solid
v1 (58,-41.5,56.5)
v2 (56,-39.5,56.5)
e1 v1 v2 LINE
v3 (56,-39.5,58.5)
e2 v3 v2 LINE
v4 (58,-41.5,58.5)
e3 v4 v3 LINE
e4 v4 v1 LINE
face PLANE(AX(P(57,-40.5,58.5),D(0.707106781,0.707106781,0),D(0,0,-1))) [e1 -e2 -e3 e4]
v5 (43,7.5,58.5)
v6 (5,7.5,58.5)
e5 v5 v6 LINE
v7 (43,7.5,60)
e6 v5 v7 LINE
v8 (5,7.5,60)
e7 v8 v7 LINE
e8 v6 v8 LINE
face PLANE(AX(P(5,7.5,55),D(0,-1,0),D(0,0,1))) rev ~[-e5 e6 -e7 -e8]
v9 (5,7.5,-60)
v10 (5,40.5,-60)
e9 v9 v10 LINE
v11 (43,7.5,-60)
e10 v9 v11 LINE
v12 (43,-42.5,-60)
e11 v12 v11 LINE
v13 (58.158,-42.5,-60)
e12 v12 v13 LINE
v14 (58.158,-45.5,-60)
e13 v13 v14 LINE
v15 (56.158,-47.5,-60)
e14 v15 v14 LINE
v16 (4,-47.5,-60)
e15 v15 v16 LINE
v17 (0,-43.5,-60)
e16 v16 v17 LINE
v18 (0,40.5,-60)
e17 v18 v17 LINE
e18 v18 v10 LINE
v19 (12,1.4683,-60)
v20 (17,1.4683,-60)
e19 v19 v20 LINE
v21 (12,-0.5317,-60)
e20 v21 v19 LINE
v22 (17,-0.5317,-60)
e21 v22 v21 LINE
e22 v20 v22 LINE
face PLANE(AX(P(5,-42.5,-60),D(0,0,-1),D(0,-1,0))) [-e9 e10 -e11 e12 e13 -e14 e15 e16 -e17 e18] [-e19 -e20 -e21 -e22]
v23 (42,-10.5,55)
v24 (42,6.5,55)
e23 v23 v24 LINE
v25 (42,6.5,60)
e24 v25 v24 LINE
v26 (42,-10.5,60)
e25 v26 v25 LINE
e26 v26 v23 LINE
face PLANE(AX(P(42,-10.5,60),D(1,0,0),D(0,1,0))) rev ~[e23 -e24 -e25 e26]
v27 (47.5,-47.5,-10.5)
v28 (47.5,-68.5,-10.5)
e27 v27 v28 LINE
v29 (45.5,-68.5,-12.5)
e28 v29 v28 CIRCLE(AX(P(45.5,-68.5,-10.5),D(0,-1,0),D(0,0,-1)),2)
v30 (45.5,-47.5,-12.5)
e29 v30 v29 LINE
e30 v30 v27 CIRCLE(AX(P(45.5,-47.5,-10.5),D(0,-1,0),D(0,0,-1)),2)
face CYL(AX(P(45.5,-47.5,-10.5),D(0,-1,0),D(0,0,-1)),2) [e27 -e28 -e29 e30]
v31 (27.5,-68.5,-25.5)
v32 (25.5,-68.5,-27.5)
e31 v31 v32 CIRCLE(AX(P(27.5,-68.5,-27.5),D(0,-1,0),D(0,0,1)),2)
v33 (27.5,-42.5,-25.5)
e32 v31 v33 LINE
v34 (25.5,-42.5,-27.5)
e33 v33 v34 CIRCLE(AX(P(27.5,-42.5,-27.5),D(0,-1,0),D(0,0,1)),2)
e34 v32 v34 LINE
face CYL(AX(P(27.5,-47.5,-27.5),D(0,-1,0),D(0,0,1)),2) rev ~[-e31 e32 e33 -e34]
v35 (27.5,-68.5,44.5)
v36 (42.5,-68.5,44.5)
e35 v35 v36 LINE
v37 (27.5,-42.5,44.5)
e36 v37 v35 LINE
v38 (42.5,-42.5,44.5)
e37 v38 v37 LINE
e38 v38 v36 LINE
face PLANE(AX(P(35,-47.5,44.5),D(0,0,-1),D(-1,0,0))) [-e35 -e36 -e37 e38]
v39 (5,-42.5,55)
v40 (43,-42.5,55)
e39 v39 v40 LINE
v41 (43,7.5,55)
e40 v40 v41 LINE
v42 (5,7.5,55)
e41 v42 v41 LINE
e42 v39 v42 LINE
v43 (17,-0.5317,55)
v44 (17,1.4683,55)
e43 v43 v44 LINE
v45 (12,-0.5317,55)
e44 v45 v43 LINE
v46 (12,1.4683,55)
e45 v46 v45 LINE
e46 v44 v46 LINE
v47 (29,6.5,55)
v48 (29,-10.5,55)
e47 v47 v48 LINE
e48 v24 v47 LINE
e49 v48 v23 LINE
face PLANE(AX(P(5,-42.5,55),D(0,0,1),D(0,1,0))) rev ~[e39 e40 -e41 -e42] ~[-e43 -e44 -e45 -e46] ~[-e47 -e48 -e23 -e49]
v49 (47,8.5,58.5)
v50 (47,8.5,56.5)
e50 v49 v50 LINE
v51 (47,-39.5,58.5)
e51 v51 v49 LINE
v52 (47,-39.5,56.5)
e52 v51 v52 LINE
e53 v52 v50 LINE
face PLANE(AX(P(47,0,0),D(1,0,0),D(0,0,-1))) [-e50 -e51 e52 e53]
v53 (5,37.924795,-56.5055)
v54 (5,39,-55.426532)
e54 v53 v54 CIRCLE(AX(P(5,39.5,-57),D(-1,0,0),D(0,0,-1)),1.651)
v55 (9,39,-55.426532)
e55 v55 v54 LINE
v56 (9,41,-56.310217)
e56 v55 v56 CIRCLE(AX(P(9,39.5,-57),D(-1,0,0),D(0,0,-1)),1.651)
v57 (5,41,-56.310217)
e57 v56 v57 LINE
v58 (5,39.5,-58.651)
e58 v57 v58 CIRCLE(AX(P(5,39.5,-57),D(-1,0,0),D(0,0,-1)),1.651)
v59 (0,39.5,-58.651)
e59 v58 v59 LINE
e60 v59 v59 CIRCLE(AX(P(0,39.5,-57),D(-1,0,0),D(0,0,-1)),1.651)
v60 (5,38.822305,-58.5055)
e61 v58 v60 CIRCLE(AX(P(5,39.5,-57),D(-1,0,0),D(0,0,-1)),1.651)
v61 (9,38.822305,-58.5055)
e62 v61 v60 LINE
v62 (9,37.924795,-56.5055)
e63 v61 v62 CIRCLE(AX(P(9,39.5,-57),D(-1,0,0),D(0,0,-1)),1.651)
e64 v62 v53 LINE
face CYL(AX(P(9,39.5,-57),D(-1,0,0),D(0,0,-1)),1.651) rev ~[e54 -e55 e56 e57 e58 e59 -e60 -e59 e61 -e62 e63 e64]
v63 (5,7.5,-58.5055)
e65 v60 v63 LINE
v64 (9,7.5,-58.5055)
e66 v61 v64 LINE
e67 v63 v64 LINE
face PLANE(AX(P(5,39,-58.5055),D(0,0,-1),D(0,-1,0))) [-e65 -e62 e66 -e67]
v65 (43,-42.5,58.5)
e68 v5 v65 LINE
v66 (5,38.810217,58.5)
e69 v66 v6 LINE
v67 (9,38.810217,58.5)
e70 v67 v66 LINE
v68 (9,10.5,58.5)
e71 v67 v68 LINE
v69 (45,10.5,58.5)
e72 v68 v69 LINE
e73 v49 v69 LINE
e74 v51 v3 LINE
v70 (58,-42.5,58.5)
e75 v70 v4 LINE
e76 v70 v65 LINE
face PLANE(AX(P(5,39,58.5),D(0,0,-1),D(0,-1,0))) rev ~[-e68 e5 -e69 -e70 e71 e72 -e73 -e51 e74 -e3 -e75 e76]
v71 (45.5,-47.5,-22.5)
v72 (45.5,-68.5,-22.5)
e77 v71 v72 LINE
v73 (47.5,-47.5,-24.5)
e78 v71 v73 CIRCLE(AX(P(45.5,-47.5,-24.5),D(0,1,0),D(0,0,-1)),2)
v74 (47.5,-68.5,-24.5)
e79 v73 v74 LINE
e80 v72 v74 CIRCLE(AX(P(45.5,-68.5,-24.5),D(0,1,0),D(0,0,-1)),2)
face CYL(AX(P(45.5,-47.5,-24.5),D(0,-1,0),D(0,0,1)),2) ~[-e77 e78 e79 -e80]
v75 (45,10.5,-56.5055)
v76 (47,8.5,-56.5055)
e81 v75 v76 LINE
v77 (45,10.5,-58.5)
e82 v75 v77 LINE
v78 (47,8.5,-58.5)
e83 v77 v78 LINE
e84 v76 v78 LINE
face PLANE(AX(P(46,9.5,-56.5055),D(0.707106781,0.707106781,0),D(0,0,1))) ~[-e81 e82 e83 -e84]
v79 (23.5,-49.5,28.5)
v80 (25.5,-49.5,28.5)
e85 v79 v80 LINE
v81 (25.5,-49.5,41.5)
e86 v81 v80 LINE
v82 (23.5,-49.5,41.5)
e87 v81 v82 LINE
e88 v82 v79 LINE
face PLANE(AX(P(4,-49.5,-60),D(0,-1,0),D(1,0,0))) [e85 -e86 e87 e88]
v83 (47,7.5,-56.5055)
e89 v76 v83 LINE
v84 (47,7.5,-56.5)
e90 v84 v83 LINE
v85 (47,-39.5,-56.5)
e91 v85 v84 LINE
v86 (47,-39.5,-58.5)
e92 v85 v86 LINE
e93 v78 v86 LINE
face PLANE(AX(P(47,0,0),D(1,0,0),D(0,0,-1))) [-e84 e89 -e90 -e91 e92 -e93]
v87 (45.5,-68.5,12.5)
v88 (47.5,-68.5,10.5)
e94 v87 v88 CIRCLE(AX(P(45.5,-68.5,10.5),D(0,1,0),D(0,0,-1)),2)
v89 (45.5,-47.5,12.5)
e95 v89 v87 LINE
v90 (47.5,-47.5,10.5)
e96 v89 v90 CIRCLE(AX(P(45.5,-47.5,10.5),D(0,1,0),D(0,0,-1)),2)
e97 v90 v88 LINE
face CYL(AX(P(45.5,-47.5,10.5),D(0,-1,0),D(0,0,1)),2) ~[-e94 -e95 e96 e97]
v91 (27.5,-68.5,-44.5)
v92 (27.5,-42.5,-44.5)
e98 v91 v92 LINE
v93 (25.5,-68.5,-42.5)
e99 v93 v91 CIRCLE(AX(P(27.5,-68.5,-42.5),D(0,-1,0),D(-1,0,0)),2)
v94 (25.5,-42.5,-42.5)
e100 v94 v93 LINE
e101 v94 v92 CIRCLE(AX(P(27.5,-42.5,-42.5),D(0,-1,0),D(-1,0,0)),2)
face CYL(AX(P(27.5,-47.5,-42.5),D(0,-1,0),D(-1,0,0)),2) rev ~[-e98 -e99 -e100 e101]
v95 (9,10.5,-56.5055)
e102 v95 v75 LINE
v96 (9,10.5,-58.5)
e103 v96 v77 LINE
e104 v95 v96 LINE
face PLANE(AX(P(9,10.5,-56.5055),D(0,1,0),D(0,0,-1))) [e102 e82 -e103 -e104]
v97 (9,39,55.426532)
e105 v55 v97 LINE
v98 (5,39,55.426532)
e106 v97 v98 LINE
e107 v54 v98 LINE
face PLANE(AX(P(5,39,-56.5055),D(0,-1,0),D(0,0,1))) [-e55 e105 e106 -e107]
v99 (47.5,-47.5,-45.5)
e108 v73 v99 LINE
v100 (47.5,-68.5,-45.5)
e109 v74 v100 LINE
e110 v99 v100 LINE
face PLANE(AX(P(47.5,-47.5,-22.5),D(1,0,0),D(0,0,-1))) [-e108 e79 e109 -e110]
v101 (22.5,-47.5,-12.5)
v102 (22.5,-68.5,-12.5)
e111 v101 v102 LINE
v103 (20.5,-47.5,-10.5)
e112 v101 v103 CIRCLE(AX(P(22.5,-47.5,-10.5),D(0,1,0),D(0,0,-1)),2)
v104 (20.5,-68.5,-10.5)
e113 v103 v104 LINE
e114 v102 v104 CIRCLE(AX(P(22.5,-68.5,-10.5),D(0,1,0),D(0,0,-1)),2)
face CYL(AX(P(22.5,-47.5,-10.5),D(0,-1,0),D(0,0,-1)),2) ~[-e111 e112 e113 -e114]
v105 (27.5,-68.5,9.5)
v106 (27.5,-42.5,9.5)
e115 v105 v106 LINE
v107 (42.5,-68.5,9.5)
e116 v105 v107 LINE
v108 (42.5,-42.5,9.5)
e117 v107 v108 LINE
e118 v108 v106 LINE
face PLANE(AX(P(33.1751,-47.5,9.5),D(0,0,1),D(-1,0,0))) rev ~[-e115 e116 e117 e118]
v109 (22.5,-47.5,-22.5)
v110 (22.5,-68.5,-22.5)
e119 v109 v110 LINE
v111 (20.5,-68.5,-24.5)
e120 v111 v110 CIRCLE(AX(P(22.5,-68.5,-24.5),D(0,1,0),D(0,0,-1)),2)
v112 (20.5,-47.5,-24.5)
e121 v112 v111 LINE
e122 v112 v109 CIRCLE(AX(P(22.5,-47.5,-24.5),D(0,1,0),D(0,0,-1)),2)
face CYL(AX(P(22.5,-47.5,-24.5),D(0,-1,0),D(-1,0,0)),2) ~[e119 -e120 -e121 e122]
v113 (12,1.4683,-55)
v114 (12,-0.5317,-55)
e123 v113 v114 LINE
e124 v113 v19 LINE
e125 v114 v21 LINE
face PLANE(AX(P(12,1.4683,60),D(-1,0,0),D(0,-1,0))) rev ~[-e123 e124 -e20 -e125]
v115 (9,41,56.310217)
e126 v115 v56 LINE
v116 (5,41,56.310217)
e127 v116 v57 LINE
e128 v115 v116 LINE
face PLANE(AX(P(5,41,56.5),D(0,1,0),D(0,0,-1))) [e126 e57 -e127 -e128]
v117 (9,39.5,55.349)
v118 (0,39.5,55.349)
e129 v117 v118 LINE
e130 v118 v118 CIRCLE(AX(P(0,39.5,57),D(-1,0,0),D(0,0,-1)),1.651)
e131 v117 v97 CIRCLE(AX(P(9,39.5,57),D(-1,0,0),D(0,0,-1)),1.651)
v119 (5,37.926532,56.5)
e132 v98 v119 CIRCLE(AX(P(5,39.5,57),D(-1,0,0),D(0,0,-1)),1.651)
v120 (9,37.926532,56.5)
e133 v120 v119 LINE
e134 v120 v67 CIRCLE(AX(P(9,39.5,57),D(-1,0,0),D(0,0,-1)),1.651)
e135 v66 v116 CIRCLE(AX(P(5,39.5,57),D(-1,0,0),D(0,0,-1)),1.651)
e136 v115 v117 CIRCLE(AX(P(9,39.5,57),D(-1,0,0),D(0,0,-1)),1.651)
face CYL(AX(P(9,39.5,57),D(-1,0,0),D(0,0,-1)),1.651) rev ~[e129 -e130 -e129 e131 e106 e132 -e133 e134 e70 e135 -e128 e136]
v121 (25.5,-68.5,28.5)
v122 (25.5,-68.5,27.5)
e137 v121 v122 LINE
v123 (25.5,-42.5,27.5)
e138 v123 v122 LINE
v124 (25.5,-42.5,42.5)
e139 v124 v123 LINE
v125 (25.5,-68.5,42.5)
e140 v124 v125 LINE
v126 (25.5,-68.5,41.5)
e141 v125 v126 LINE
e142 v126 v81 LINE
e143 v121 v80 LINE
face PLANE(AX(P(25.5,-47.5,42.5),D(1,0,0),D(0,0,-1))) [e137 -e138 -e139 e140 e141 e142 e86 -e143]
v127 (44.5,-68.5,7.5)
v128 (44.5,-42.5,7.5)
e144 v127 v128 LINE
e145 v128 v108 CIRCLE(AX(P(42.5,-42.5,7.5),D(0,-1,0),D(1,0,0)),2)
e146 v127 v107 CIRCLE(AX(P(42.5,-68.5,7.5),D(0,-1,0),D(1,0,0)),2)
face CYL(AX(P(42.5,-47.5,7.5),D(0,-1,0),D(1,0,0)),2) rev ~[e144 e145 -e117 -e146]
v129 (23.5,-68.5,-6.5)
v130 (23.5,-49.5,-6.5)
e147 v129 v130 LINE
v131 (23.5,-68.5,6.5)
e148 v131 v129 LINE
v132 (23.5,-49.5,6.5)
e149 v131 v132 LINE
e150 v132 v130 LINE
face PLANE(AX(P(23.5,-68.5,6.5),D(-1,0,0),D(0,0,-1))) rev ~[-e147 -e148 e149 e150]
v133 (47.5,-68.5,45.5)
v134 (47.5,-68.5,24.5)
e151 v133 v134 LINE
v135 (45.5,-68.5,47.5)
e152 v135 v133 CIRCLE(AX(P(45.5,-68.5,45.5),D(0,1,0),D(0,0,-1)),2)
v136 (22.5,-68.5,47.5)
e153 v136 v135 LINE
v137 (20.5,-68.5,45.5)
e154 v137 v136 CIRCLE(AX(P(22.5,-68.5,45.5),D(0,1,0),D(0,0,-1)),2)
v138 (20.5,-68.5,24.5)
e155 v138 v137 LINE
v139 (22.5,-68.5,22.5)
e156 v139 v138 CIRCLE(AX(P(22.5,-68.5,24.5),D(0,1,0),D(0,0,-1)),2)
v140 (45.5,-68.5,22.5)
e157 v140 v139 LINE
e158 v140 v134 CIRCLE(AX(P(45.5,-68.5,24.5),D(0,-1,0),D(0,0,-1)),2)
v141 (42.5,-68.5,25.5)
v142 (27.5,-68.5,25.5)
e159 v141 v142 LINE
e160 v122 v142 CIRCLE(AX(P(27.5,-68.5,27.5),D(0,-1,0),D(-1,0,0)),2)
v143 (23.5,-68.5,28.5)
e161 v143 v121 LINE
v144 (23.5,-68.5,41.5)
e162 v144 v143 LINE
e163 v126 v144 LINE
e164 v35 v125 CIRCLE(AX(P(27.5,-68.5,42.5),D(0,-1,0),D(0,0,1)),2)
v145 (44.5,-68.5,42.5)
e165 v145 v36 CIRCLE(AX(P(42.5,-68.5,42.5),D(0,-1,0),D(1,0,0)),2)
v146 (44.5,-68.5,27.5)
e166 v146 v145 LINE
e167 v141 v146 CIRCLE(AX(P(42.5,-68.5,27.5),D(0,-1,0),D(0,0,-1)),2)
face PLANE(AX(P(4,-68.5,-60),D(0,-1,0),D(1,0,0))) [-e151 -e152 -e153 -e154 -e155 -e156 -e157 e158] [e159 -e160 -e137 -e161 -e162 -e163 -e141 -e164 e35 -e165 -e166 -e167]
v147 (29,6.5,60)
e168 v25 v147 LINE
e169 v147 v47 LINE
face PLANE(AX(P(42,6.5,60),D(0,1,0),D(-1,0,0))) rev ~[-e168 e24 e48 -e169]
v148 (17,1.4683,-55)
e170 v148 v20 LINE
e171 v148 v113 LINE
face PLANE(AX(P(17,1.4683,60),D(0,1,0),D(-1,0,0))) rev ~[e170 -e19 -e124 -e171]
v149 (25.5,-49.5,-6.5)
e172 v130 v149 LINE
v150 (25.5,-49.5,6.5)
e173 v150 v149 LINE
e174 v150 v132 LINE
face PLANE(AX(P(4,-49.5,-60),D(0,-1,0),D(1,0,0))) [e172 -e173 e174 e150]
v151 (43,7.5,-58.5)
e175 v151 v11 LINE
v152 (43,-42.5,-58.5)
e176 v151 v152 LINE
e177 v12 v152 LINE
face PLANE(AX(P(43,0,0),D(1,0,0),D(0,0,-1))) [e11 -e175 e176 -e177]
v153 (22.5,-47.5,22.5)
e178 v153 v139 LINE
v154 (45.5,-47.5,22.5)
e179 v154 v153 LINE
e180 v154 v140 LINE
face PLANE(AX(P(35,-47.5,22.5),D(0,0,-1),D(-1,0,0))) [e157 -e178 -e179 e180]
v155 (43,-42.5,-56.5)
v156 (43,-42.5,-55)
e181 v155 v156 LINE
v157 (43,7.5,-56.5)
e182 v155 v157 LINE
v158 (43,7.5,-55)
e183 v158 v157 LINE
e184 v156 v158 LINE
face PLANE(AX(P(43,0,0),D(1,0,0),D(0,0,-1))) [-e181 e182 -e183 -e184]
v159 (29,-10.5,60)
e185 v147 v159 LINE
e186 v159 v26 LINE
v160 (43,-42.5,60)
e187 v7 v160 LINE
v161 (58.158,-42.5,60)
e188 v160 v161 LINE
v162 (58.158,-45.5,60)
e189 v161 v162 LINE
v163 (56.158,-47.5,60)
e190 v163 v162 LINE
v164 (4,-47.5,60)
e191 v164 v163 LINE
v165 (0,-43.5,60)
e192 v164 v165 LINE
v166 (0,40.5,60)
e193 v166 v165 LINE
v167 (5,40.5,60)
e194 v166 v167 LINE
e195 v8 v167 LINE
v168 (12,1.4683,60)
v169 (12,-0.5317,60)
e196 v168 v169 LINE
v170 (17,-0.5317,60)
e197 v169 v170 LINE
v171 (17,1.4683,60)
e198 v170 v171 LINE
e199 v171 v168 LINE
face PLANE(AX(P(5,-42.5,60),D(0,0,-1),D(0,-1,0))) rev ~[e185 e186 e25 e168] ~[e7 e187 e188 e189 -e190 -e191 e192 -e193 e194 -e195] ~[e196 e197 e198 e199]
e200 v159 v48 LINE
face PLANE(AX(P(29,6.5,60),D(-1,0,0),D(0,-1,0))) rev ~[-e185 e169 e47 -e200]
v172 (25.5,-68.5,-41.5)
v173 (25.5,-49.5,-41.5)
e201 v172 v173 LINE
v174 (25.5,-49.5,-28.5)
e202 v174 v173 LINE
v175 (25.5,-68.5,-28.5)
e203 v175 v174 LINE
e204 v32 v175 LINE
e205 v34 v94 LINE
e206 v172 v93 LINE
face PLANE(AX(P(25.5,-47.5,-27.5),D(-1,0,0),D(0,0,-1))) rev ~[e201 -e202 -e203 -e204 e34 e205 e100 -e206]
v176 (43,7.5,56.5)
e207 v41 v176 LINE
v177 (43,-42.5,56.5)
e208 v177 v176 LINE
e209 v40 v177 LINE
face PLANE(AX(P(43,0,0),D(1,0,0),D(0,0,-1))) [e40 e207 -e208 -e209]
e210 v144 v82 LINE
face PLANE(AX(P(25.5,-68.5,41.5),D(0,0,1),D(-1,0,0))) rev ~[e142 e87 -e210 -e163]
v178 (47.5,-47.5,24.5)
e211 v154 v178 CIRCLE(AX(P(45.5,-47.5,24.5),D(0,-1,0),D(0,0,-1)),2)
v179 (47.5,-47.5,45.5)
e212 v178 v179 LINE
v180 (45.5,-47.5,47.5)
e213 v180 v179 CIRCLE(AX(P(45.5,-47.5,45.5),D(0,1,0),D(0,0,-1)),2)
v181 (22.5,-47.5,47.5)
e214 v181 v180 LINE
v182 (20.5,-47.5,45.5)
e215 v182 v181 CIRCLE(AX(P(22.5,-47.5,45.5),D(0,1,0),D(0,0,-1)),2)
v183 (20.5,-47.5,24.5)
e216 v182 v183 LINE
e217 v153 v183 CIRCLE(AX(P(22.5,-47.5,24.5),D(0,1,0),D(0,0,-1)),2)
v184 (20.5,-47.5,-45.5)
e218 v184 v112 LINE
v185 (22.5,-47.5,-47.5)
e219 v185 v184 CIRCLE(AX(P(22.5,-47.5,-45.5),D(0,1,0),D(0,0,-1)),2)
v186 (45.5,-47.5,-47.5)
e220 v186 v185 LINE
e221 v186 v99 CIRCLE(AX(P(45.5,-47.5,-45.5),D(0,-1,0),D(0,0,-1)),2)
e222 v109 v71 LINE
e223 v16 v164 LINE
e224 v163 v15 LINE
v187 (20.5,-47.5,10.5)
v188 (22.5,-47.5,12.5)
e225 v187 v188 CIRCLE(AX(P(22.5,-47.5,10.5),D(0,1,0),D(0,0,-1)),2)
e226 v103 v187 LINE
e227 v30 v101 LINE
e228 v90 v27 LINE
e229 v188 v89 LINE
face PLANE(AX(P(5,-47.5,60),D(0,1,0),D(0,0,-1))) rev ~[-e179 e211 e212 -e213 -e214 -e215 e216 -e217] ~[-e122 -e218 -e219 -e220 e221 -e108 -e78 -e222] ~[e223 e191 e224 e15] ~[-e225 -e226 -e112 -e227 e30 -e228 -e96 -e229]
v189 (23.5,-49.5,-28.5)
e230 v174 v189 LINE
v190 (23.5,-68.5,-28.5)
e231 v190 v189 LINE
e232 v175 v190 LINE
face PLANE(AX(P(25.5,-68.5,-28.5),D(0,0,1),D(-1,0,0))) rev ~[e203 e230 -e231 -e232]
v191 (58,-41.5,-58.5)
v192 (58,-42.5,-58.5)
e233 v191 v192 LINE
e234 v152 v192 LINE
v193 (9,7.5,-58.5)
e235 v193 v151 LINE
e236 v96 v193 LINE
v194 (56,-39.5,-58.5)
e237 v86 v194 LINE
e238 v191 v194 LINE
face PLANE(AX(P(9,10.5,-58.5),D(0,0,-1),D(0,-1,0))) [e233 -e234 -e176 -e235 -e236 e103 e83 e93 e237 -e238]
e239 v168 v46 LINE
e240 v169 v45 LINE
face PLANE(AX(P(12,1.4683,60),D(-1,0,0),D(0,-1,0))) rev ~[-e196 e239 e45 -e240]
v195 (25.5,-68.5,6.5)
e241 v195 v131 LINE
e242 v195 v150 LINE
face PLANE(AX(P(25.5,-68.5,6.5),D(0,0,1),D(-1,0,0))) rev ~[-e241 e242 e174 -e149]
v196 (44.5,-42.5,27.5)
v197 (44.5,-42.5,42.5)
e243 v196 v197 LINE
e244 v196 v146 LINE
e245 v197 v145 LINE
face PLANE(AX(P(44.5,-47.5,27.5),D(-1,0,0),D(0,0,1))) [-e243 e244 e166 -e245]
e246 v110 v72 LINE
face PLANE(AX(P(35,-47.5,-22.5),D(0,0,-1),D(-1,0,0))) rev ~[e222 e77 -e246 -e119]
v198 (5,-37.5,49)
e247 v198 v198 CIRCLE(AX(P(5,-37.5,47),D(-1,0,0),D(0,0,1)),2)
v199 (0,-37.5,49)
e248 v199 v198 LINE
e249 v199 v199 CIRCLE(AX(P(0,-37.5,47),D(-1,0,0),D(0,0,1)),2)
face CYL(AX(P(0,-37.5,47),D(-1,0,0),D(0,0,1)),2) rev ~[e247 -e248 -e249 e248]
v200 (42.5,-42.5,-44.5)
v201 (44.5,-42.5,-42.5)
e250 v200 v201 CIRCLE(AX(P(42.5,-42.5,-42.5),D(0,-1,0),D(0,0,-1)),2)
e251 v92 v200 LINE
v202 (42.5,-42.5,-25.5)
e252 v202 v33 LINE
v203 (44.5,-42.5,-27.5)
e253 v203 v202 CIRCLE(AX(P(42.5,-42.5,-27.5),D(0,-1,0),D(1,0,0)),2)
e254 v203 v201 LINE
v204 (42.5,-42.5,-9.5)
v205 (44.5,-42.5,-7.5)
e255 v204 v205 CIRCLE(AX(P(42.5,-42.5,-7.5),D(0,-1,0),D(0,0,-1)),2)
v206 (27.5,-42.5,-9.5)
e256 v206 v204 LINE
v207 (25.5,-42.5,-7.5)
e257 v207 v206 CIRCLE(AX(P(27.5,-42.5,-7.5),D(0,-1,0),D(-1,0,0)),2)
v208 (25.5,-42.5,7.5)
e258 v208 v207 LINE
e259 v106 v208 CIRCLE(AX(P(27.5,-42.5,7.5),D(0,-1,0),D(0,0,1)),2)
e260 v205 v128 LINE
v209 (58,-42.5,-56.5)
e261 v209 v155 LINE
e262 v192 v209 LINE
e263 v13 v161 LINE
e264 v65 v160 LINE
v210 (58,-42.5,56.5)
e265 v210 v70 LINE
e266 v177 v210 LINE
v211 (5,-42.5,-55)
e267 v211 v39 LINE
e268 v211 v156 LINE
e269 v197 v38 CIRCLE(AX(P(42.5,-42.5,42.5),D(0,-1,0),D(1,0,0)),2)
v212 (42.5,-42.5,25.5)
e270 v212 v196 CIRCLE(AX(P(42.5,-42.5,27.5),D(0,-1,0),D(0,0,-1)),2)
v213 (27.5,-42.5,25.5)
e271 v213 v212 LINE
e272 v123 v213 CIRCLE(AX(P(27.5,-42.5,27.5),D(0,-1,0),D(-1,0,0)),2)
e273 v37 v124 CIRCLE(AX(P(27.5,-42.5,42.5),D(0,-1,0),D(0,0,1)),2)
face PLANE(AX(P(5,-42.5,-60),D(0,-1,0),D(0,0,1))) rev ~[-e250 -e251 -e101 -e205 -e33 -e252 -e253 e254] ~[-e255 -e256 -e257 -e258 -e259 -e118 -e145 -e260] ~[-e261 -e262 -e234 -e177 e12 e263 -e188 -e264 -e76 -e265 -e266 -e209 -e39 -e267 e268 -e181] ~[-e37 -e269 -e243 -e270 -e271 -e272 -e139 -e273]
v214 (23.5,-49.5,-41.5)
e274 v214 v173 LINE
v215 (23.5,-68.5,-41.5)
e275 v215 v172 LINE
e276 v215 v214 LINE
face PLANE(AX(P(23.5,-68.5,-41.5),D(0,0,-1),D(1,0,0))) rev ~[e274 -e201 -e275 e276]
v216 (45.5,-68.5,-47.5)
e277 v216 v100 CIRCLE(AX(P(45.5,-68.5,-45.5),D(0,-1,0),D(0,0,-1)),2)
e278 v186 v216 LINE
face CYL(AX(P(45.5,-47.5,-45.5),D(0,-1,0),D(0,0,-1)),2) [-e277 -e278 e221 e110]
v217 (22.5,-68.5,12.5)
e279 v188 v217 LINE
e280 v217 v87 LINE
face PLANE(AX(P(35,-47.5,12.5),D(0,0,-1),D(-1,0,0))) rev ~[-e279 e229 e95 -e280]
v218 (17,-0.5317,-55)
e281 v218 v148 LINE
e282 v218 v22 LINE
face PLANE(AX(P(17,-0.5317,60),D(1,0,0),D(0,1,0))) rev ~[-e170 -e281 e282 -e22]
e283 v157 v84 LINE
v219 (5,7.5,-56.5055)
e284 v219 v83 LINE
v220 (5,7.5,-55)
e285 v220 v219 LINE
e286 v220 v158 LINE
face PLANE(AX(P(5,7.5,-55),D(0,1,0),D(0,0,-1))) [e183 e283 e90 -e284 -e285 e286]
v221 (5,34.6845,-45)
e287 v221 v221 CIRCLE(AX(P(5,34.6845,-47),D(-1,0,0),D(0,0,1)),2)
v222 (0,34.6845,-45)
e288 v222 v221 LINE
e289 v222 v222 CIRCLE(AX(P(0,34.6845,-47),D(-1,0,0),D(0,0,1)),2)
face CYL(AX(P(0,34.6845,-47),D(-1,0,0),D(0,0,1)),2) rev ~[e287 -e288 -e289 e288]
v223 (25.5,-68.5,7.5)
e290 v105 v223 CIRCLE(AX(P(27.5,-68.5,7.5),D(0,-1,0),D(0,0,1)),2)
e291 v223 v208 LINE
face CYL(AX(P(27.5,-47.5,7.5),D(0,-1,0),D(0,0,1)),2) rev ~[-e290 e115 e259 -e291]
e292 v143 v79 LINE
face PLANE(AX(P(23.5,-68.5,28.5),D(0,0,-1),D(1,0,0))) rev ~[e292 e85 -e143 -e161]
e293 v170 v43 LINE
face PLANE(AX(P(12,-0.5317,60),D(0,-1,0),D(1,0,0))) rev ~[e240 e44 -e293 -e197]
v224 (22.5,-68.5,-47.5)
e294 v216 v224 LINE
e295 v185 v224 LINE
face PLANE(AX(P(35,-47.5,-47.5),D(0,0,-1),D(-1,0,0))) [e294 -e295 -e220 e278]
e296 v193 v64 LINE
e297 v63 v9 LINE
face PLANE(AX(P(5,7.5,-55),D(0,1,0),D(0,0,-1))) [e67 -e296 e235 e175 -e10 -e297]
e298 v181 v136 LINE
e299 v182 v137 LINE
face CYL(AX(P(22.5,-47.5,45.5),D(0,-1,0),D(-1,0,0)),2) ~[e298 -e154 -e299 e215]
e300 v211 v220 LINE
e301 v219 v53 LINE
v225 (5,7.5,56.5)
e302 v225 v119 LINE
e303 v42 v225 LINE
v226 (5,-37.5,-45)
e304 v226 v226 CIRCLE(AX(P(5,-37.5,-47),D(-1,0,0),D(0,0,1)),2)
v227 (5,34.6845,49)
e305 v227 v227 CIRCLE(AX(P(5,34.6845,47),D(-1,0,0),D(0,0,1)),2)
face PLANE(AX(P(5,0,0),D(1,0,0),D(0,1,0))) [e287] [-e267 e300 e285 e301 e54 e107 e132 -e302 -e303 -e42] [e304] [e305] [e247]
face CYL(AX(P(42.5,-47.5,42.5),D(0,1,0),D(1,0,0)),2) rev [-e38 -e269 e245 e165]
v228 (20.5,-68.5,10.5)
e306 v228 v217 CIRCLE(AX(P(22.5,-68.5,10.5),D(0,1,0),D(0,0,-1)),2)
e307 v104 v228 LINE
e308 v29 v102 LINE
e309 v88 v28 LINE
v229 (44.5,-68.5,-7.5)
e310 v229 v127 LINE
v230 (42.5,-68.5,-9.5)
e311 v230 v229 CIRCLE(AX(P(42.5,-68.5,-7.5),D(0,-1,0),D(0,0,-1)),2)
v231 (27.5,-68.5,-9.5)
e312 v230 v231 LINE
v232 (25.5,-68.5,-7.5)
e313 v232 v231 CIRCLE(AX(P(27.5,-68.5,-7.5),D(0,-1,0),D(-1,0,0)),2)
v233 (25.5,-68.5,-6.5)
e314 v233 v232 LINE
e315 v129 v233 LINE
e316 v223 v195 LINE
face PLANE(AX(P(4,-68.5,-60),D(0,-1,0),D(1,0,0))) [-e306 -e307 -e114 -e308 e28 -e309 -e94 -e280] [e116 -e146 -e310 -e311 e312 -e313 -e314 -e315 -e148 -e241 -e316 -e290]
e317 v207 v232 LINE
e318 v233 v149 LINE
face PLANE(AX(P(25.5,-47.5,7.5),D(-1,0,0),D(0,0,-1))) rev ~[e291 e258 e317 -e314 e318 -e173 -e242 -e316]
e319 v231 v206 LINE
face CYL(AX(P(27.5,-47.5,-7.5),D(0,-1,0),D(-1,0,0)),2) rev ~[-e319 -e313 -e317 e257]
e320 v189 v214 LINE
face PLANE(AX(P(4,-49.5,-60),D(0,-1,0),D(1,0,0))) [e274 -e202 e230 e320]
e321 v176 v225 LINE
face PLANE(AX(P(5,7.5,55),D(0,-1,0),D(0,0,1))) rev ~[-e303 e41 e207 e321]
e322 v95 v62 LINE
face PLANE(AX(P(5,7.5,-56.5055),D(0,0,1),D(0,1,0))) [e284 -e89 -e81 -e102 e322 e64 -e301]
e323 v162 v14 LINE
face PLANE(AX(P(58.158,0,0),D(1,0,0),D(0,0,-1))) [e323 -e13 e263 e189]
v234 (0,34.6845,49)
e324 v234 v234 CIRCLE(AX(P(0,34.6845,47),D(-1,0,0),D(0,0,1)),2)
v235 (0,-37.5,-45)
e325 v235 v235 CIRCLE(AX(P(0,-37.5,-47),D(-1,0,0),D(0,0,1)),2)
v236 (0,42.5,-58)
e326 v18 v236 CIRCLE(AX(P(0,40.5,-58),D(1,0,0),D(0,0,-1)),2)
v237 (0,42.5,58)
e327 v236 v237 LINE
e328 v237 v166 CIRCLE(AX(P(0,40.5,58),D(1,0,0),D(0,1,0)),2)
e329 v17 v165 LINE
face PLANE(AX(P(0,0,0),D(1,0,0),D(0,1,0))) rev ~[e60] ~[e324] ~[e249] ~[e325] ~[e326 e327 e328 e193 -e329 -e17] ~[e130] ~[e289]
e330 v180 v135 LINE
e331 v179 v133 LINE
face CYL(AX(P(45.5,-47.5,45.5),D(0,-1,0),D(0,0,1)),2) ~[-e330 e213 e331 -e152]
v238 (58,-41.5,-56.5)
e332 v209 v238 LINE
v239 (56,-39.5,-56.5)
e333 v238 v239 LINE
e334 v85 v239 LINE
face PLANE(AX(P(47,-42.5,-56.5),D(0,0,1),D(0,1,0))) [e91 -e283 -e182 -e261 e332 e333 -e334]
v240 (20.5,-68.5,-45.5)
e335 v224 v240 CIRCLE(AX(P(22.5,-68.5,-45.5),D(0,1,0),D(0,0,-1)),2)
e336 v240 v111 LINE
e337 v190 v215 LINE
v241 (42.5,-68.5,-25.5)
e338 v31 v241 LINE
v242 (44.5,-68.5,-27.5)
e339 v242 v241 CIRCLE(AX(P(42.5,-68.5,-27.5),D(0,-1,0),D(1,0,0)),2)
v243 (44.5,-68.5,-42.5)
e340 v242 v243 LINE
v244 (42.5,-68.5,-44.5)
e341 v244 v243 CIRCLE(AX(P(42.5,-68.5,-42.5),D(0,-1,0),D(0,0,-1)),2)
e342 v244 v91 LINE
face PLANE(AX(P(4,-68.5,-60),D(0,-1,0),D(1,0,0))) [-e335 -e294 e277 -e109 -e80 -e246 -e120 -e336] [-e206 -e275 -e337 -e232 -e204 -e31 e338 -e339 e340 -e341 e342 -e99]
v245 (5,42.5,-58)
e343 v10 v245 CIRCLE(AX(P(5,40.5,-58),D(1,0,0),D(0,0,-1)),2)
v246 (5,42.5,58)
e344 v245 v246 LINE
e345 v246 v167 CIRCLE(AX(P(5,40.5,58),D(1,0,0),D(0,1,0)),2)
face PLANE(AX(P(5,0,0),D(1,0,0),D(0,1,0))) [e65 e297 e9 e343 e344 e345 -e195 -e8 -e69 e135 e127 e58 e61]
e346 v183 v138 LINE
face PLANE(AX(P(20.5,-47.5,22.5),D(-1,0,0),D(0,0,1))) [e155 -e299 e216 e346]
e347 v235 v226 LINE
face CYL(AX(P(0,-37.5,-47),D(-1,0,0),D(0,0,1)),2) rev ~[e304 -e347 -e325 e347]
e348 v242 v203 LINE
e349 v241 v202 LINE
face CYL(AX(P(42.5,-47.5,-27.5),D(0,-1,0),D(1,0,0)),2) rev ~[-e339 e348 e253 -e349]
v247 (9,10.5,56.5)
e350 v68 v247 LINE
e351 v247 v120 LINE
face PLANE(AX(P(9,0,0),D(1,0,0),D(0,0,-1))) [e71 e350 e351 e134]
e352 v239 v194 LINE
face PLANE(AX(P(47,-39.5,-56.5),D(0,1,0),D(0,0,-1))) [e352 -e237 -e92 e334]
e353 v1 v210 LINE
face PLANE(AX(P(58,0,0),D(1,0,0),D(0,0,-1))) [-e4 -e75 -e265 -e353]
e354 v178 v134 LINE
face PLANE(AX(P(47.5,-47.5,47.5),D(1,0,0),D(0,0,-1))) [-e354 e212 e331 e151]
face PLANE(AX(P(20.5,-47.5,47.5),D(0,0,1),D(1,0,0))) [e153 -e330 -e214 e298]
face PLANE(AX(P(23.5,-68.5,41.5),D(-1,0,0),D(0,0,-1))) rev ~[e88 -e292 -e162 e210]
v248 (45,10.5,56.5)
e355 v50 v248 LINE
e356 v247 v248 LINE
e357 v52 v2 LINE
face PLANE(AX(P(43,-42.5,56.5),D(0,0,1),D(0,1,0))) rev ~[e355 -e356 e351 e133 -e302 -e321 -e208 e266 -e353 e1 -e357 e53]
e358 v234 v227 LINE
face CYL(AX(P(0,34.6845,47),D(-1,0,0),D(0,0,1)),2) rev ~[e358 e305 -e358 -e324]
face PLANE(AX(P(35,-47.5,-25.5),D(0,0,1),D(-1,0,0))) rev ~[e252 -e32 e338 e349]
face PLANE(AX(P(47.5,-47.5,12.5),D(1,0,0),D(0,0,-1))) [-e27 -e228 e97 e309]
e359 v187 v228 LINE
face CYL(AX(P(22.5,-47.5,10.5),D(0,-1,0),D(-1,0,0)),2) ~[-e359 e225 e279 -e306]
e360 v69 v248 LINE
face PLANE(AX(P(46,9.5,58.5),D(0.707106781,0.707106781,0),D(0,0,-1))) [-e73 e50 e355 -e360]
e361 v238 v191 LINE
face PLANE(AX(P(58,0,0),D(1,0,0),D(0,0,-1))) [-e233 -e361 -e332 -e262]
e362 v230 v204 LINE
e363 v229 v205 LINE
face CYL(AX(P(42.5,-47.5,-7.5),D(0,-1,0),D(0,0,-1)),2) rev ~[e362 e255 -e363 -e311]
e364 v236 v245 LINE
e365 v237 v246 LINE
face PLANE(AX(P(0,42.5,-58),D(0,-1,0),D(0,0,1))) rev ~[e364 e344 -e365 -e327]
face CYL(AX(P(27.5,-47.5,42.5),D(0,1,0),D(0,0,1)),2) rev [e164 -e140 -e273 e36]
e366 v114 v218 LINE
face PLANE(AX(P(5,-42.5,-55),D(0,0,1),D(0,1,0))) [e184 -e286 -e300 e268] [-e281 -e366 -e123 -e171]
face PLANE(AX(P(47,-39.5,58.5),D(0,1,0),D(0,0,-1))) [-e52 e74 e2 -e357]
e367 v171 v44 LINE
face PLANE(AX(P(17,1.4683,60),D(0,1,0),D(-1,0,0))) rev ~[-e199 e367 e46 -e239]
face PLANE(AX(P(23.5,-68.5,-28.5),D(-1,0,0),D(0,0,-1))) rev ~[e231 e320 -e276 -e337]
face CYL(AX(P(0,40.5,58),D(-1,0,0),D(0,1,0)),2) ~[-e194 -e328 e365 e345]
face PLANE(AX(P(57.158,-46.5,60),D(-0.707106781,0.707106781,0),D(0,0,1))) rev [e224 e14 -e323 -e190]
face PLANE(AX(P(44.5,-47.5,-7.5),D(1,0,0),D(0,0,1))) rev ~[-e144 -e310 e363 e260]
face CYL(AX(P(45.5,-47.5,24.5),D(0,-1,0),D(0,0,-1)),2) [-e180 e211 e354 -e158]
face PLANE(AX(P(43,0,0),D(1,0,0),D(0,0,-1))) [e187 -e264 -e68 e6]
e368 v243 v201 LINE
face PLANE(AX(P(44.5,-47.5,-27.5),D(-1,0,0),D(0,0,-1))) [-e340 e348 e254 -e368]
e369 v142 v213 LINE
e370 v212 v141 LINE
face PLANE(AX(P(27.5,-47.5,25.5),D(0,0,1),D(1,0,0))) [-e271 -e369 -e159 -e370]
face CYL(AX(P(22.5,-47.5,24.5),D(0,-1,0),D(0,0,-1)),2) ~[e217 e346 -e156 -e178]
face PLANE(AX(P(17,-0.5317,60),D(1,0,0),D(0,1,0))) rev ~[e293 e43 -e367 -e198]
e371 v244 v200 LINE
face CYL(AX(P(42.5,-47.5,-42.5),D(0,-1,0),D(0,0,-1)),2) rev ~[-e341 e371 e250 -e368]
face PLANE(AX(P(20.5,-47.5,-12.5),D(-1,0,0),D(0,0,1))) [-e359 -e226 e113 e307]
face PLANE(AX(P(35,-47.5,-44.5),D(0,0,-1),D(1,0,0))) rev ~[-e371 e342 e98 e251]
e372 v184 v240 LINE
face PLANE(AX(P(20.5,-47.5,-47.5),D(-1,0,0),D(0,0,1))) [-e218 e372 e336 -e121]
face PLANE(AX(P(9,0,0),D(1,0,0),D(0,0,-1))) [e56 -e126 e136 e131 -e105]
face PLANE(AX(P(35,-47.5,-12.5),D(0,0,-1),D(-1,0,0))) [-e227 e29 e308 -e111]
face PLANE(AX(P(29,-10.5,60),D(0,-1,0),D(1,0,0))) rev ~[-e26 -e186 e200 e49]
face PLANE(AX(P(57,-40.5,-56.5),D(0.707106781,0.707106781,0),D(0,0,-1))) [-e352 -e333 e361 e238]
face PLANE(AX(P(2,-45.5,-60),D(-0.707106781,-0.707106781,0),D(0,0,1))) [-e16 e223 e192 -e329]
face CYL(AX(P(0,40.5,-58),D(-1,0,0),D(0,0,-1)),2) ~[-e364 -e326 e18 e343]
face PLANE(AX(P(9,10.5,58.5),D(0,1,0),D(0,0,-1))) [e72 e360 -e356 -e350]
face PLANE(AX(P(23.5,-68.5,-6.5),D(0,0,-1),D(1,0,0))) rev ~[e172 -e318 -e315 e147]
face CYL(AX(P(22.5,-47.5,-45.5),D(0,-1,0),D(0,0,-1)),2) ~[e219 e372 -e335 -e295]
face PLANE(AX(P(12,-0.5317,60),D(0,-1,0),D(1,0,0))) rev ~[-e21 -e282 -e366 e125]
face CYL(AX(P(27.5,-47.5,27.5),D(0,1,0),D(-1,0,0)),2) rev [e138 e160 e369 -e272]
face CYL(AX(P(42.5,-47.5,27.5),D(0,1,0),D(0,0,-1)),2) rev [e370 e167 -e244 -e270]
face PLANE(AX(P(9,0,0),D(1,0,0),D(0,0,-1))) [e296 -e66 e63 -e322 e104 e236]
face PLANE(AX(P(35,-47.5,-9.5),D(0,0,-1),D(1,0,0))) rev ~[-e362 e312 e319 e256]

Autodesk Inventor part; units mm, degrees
ref_plane "YZ Plane" through (0, 0, 0) normal (1, 0, 0) x (0, 1, 0)
ref_plane "XZ Plane" through (0, 0, 0) normal (0, 1, 0) x (-1, 0, 0)
ref_plane "XY Plane" through (0, 0, 0) normal (0, 0, 1) x (1, 0, 0)
sketch "Esboço1" plane through (0, 0, 0) normal (1, 0, 0) x (0, 1, 0)
  line L0 (40.5, 60) -> (-42.5, 60)
  line L1 (-42.5, 60) -> (-42.5, -60)
  line L2 (-42.5, -60) -> (40.5, -60)
  line L3 (42.5, -58) -> (42.5, 58)
  line L4 (-42.5, 60) -> (42.5, -60) construction
  arc A0 (42.5, 58) -> (40.5, 60) centre (40.5, 58) ccw
  arc A1 (40.5, -60) -> (42.5, -58) centre (40.5, -58) ccw
  point P0 (0, 0)
  dimension "d0" = 85
  dimension "d1" = 120
  dimension "d4" = 2
extrude "Extrusão1" add sketch "Esboço1" along normal blind 5
sketch "Esboço4" plane through (5, 0, 0) normal (1, 0, 0) x (0, 0, -1)
  line L0 (-60, -42.5) -> (60, -42.5) projected
  line L1 (-60, -42.5) -> (60, -42.5)
  line L2 (60, -42.5) -> (60, -47.5)
  line L3 (60, -47.5) -> (-60, -47.5)
  line L4 (-60, -47.5) -> (-60, -42.5)
  point P0 (0, 0)
  point P1 (60, -42.5)
  dimension "d33" = 5
extrude "Extrusão3" add sketch "Esboço4" against normal blind 5
sketch "Esboço5" plane through (5, 0, 0) normal (1, 0, 0) x (0, 0, -1)
  line L0 (-60, 40.5) -> (-60, -47.5) projected
  line L1 (60, 40.5) -> (60, -47.5) projected
  line L2 (-60, -47.5) -> (60, -47.5)
  line L3 (60, -47.5) -> (60, -42.5)
  line L4 (60, -42.5) -> (-60, -42.5)
  line L5 (-60, -42.5) -> (-60, -47.5)
  point P0 (0, 0)
  point P1 (60, -47.5)
  dimension "d36" = 5
extrude "Extrusão4" add sketch "Esboço5" along normal blind 53.158
chamfer "Chanfro2" distance 4 angle 45 1 edges at (0, -47.5, 0)
chamfer "Chanfro3" distance 2 angle 45 1 edges at (58.158, -47.5, 0)
sketch "Esboço9" plane through (4, -47.5, -60) normal (0, -1, 0) x (1, 0, 0)
  line L0 (40.5, 87.5) -> (40.5, 102.5) projected
  line L1 (23.5, 85.5) -> (38.5, 85.5) projected
  line L2 (38.5, 104.5) -> (23.5, 104.5) projected
  line L3 (21.5, 102.5) -> (21.5, 87.5) projected
  line L4 (23.5, 15.5) -> (38.5, 15.5) projected
  line L5 (43.5, 12.5) -> (31, 12.5)
  line L6 (31, 12.5) -> (16.5, 12.5)
  line L7 (16.5, 95) -> (16.5, 107.5)
  line L8 (16.5, 107.5) -> (43.5, 107.5)
  line L9 (43.5, 107.5) -> (43.5, 95)
  line L10 (38.5, 34.5) -> (23.5, 34.5) projected
  line L11 (31, 34.5) -> (31, 37.5)
  line L12 (23.5, 50.5) -> (38.5, 50.5) projected
  line L13 (31, 50.5) -> (31, 47.5)
  line L14 (38.5, 69.5) -> (23.5, 69.5) projected
  line L15 (31, 69.5) -> (31, 72.5)
  line L16 (31, 85.5) -> (31, 82.5)
  line L17 (43.5, 82.5) -> (16.5, 82.5)
  line L18 (43.5, 72.5) -> (16.5, 72.5)
  line L19 (43.5, 47.5) -> (16.5, 47.5)
  line L20 (43.5, 37.5) -> (16.5, 37.5)
  line L21 (43.5, 95) -> (43.5, 82.5)
  line L22 (16.5, 82.5) -> (16.5, 95)
  line L23 (16.5, 12.5) -> (16.5, 37.5)
  line L24 (16.5, 47.5) -> (16.5, 72.5)
  line L25 (43.5, 72.5) -> (43.5, 47.5)
  line L26 (43.5, 37.5) -> (43.5, 12.5)
  line L27 (31, 104.5) -> (31, 107.5)
  line L28 (31, 15.5) -> (31, 12.5)
  arc A0 (23.5, 104.5) -> (21.5, 102.5) centre (23.5, 102.5) ccw projected
  arc A1 (23.5, 104.5) -> (21.5, 102.5) centre (23.5, 102.5) ccw
  arc A2 (40.5, 102.5) -> (38.5, 104.5) centre (38.5, 102.5) ccw
  arc A3 (38.5, 85.5) -> (40.5, 87.5) centre (38.5, 87.5) ccw projected
  arc A4 (38.5, 85.5) -> (40.5, 87.5) centre (38.5, 87.5) ccw
  arc A5 (21.5, 87.5) -> (23.5, 85.5) centre (23.5, 87.5) ccw projected
  arc A6 (21.5, 87.5) -> (23.5, 85.5) centre (23.5, 87.5) ccw
  line L29 (21.5, 102.5) -> (21.5, 87.5)
  line L30 (23.5, 104.5) -> (31, 104.5)
  line L31 (31, 104.5) -> (38.5, 104.5)
  arc A7 (40.5, 102.5) -> (38.5, 104.5) centre (38.5, 102.5) ccw projected
  line L32 (40.5, 102.5) -> (40.5, 87.5)
  line L33 (38.5, 85.5) -> (31, 85.5)
  line L34 (23.5, 85.5) -> (31, 85.5)
  line L35 (31, 69.5) -> (29.1751, 69.5)
  arc A8 (23.5, 69.5) -> (21.5, 67.5) centre (23.5, 67.5) ccw projected
  line L36 (31, 69.5) -> (23.5, 69.5)
  line L37 (21.5, 67.5) -> (21.5, 52.5) projected
  line L38 (21.5, 67.5) -> (21.5, 52.5)
  arc A9 (21.5, 52.5) -> (23.5, 50.5) centre (23.5, 52.5) ccw projected
  line L39 (23.5, 50.5) -> (31, 50.5)
  line L40 (31, 50.5) -> (38.5, 50.5)
  arc A10 (38.5, 50.5) -> (40.5, 52.5) centre (38.5, 52.5) ccw projected
  line L41 (40.5, 52.5) -> (40.5, 67.5)
  line L42 (38.5, 69.5) -> (31, 69.5)
  line L43 (31, 34.5) -> (38.5, 34.5)
  arc A11 (40.5, 32.5) -> (38.5, 34.5) centre (38.5, 32.5) ccw projected
  arc A12 (38.5, 15.5) -> (40.5, 17.5) centre (38.5, 17.5) ccw projected
  line L44 (40.5, 32.5) -> (40.5, 17.5)
  line L45 (38.5, 15.5) -> (31, 15.5)
  arc A13 (21.5, 17.5) -> (23.5, 15.5) centre (23.5, 17.5) ccw projected
  line L46 (31, 15.5) -> (23.5, 15.5)
  line L47 (21.5, 32.5) -> (21.5, 17.5) projected
  line L48 (21.5, 17.5) -> (21.5, 32.5)
  line L49 (23.5, 34.5) -> (31, 34.5)
  arc A14 (23.5, 34.5) -> (21.5, 32.5) centre (23.5, 32.5) ccw projected
  arc A15 (23.5, 34.5) -> (21.5, 32.5) centre (23.5, 32.5) ccw
  arc A16 (21.5, 17.5) -> (23.5, 15.5) centre (23.5, 17.5) ccw
  arc A17 (38.5, 15.5) -> (40.5, 17.5) centre (38.5, 17.5) ccw
  arc A18 (40.5, 32.5) -> (38.5, 34.5) centre (38.5, 32.5) ccw
  arc A19 (38.5, 50.5) -> (40.5, 52.5) centre (38.5, 52.5) ccw
  arc A20 (21.5, 52.5) -> (23.5, 50.5) centre (23.5, 52.5) ccw
  arc A21 (23.5, 69.5) -> (21.5, 67.5) centre (23.5, 67.5) ccw
  arc A22 (40.5, 67.5) -> (38.5, 69.5) centre (38.5, 67.5) ccw projected
  arc A23 (40.5, 67.5) -> (38.5, 69.5) centre (38.5, 67.5) ccw
  point P0 (-4, 60)
  dimension "d102" = 3
  dimension "d103" = 3
  dimension "d104" = 3
  dimension "d105" = 3
extrude "Extrusão7" add sketch "Esboço9" along normal blind 21 contours L16 L17 L22 L7 L8 L27 L2 A0 L3 A5 L1 | L4 L28 L6 L23 L20 L11 L10 A14 L47 A13 | L12 L13 L19 L24 L18 L15 L14 A8 L37 A9
extrude "Extrusão9" add sketch "Esboço9" along normal blind 21 contours L0 A2 L2 L27 L8 L9 L21 L17 L16 L1 A3 | L4 A12 L44 A11 L10 L11 L20 L26 L5 L28 | L12 A10 L41 A22 L14 L15 L18 L25 L19 L13
fillet "Arredondamento1" radius 2 12 edges at (47.5, -58, -47.5) (20.5, -58, -47.5) (20.5, -58, -22.5) (47.5, -58, -22.5) (47.5, -58, -12.5) (20.5, -58, -12.5) (20.5, -58, 12.5) (47.5, -58, 12.5) (47.5, -58, 22.5) (20.5, -58, 22.5) (20.5, -58, 47.5) (47.5, -58, 47.5)
sketch "Esboço12" plane through (5, 0, 0) normal (1, 0, 0) x (0, 0, -1)
  line L0 (60, -42.5) -> (60, 40.5) projected
  line L1 (60, -42.5) -> (55, -42.5)
  line L2 (55, -42.5) -> (55, 7.5)
  line L3 (55, 7.5) -> (60, 7.5)
  line L4 (60, 7.5) -> (60, -42.5)
  line L5 (60, -42.5) -> (-60, -42.5) projected
  line L6 (-60, -42.5) -> (-55, -42.5)
  line L7 (-55, -42.5) -> (-55, 7.5)
  line L8 (-55, 7.5) -> (-60, 7.5)
  line L9 (-60, 7.5) -> (-60, -42.5)
  point P0 (0, 0)
  dimension "d123" = 5
  dimension "d124" = 50
  dimension "d125" = 5
  dimension "d126" = 50
extrude "Extrusão10" add sketch "Esboço12" along normal blind 38
sketch "Esboço13" plane through (43, 0, 0) normal (1, 0, 0) x (0, 0, -1)
  line L0 (-60, 40.5) -> (-60, -43.5) projected
  line L1 (-60, -42.5141) -> (-58.5, -42.5141)
  line L2 (-60, -42.5141) -> (-58.5, -42.5141) construction
  line L3 (60, -42.5) -> (-60, -42.5) projected
  line L4 (-55, 7.5) -> (-60, 7.5) projected
  line L5 (-58.5, -42.5) -> (-56.5, -42.5)
  line L6 (-56.5, -42.5) -> (-56.5, 7.5)
  line L7 (-56.5, 7.5) -> (-58.5, 7.5)
  line L8 (-58.5, 7.5) -> (-58.5, -42.5)
  line L9 (58, 42.5) -> (-58, 42.5) projected
  line L10 (-57.5, 42.5) -> (-56, 42.5) construction
  line L11 (-58.5, 7.5) -> (-56.5, 7.5)
  line L12 (60, -42.5) -> (55, -42.5) projected
  line L13 (60, -42.5) -> (58.5, -42.5)
  line L14 (55, 7.5) -> (60, 7.5) projected
  line L15 (58.5, -42.5) -> (56.5, -42.5)
  line L16 (56.5, -42.5) -> (56.5, 7.5)
  line L17 (56.5, 7.5) -> (58.5, 7.5)
  line L18 (58.5, 7.5) -> (58.5, -42.5)
  point P0 (0, 0)
  dimension "d129" = 1.5
  dimension "d130" = 0
  dimension "d135" = 1.5
  dimension "d136" = 2
extrude "Extrusão11" add sketch "Esboço13" along normal blind 4 contours L16 L14 L18 L3 | L4 L6 L3 L8
extrude "Extrusão12" cut sketch "Esboço9" against normal blind 6 contours A3 L1 A5 L3 A0 L2 A2 L0 | A13 L47 A14 L10 A11 L44 A12 L4 | A9 L37 A8 L14 A22 L41 A10 L12
sketch "Esboço14" plane through (5, 0, 0) normal (1, 0, 0) x (0, 0, -1)
  line L0 (-58.5, 7.5) -> (-60, 7.5) projected
  line L1 (-58.5, 7.5) -> (-56.5, 7.5)
  line L2 (-56.5, 7.5) -> (-56.5, 41)
  line L3 (-56.5, 41) -> (-56.5, 41)
  line L4 (-58.5, 39) -> (-58.5, 7.5)
  line L5 (55, 7.5) -> (60, 7.5) projected
  line L6 (58.5055, 7.5) -> (56.5055, 7.5)
  line L7 (56.5055, 7.5) -> (56.5055, 41)
  line L8 (56.5055, 41) -> (56.5055, 41)
  line L9 (58.5055, 39) -> (58.5055, 7.5)
  line L10 (-56.5, 41) -> (56.5055, 41)
  line L11 (56.5055, 41) -> (56.5055, 39)
  line L12 (56.5055, 39) -> (-56.5, 39)
  line L13 (-56.5, 39) -> (-56.5, 41)
  arc A0 (-56.5, 41) -> (-58.5, 39) centre (-56.5, 39) ccw
  arc A1 (58.5055, 39) -> (56.5055, 41) centre (56.5055, 39) ccw
  point P0 (0, 0)
  point P1 (-58.5, 41)
  point P2 (58.5055, 41)
  dimension "d141" = 2
  dimension "d142" = 33.5
  dimension "d143" = 2
  dimension "d144" = 33.5
  dimension "d145" = 2
  dimension "d146" = 2
  dimension "d147" = 2
extrude "Extrusão13" add sketch "Esboço14" along normal blind 4
sketch "Esboço15" plane through (9, 0, 0) normal (1, 0, 0) x (0, 0, -1)
  line L0 (-56.5, 7.5) -> (-56.5, 39) projected
  line L1 (-56.5, 7.5) -> (-58.5, 7.5)
  line L2 (-58.5, 7.5) -> (-58.5, 10.5)
  line L3 (-58.5, 10.5) -> (-56.5, 10.5)
  line L4 (-56.5, 10.5) -> (-56.5, 7.5)
  line L5 (58.5, 7.5) -> (56.5, 7.5) projected
  line L6 (56.5055, 39) -> (56.5055, 7.5) projected
  line L7 (58.5, 7.5) -> (56.5055, 7.5)
  line L8 (56.5055, 7.5) -> (56.5055, 10.5)
  line L9 (56.5055, 10.5) -> (58.5, 10.5)
  line L10 (58.5, 10.5) -> (58.5, 7.5)
  point P0 (0, 0)
  dimension "d150" = 2
  dimension "d151" = 3
  dimension "d152" = 3
extrude "Extrusão14" add sketch "Esboço15" along normal blind 38
sketch "Esboço16" plane through (47, 0, 0) normal (1, 0, 0) x (0, 0, -1)
  line L0 (-56.5, -42.5) -> (-58.5, -42.5) projected
  line L1 (-58.5, -42.5) -> (-58.5, 7.5) projected
  line L2 (-56.5, -42.5) -> (-58.5, -42.5)
  line L3 (-58.5, -42.5) -> (-58.5, -39.5)
  line L4 (-58.5, -39.5) -> (-56.5, -39.5)
  line L5 (-56.5, -39.5) -> (-56.5, -42.5)
  line L6 (60, -42.5) -> (58.5, -42.5) projected
  line L7 (58.5, -42.5) -> (56.5, -42.5)
  line L8 (56.5, -42.5) -> (56.5, -39.5)
  line L9 (56.5, -39.5) -> (58.5, -39.5)
  line L10 (58.5, -39.5) -> (58.5, -42.5)
  point P0 (0, 0)
  dimension "d155" = 3
  dimension "d156" = 2
  dimension "d157" = 3
extrude "Extrusão15" add sketch "Esboço16" along normal blind 11
chamfer "Chanfro4" distance 2 angle 45 2 edges at (58, -39.5, 57.5) (58, -39.5, -57.5)
chamfer "Chanfro5" distance 2 angle 45 2 edges at (47, 10.5, 57.5) (47, 10.5, -57.5027)
sketch "Esboço17" plane through (9, 0, 0) normal (1, 0, 0) x (0, 0, -1)
  line L0 (-60, 42.5) -> (-57, 42.5)
  line L1 (-57, 42.5) -> (-57, 39.5)
  line L2 (-57, 39.5) -> (-60, 39.5)
  line L3 (-60, 39.5) -> (-60, 42.5)
  line L4 (60, 42.5) -> (57, 42.5)
  line L5 (57, 42.5) -> (57, 39.5)
  line L6 (57, 39.5) -> (60, 39.5)
  line L7 (60, 39.5) -> (60, 42.5)
  point P0 (0, 0)
  dimension "d166" = 3
  dimension "d167" = 3
  dimension "d168" = 3
  dimension "d169" = 3
hole "Furo5" at (9, 39.5, 57) at (9, 39.5, -57) direction (-1, 0, 0) diameter 3.302 depth 12.3 tip angle 118 thread size "8-32 UNC" class "2B" standard "ANSI Unified Screw Threads"
sketch "Esboço18" plane through (4, -68.5, -60) normal (0, -1, 0) x (1, 0, 0)
  line L0 (21.5, 102.5) -> (21.5, 87.5) projected
  line L1 (21.5, 102.5) -> (21.5, 101.5)
  line L2 (21.5, 101.5) -> (19.5, 101.5)
  line L3 (19.5, 101.5) -> (19.5, 88.5)
  line L4 (19.5, 88.5) -> (21.5, 88.5)
  line L5 (21.5, 88.5) -> (21.5, 101.5)
  arc A0 (23.5, 69.5) -> (21.5, 67.5) centre (23.5, 67.5) ccw projected
  line L6 (21.5, 67.5) -> (21.5, 66.5)
  line L7 (21.5, 67.5) -> (21.5, 52.5) projected
  line L8 (21.5, 66.5) -> (19.5, 66.5)
  line L9 (19.5, 66.5) -> (19.5, 53.5)
  line L10 (19.5, 53.5) -> (21.5, 53.5)
  line L11 (21.5, 53.5) -> (21.5, 66.5)
  line L12 (21.5, 32.5) -> (21.5, 17.5) projected
  line L13 (21.5, 32.5) -> (21.5, 31.5)
  line L14 (21.5, 31.5) -> (19.5, 31.5)
  line L15 (19.5, 31.5) -> (19.5, 18.5)
  line L16 (19.5, 18.5) -> (21.5, 18.5)
  line L17 (21.5, 18.5) -> (21.5, 31.5)
  point P0 (-4, 60)
  point P1 (21.5, 18.5)
  dimension "d177" = 1
  dimension "d178" = 2
  dimension "d179" = 13
  dimension "d180" = 1
  dimension "d181" = 2
  dimension "d182" = 13
  dimension "d183" = 1
  dimension "d184" = 13
extrude "Extrusão16" cut sketch "Esboço18" against normal blind 19
sketch "Esboço20" plane through (0, 40.5, 60) normal (0, 0, 1) x (1, 0, 0)
  line L0 (43, -33) -> (43, -83) projected
  line L1 (43, -33) -> (42, -33)
  line L2 (42, -33) -> (42, -34)
  line L3 (42, -34) -> (43, -34)
  line L4 (43, -34) -> (43, -33)
  line L5 (42, -34) -> (29, -34)
  line L6 (29, -34) -> (29, -51)
  line L7 (29, -51) -> (42, -51)
  line L8 (42, -51) -> (42, -34)
  point P0 (0, -40.5)
  dimension "d187" = 1
  dimension "d188" = 1
  dimension "d189" = 13
  dimension "d190" = 17
extrude "Extrusão17" cut sketch "Esboço20" against normal blind 5 contours L8 L7 L6 L5
sketch "Esboço21" plane through (0, 40.5, 60) normal (0, 0, 1) x (1, 0, 0)
  line L0 (12, -41.0317) -> (17, -41.0317)
  line L1 (17, -41.0317) -> (17, -39.0317)
  line L2 (17, -39.0317) -> (12, -39.0317)
  line L3 (12, -39.0317) -> (12, -41.0317)
  point P0 (0, -40.5)
  dimension "d195" = 5
  dimension "d196" = 2
extrude "Extrusão18" cut sketch "Esboço21" against normal through all
sketch "Esboço22" plane through (0, 0, 0) normal (-1, 0, 0) x (0, 0, 1)
  circle A0 centre (47, -37.5) radius 2
  circle A1 centre (-47, -37.5) radius 2
  circle A2 centre (-47, 34.6845) radius 2
  circle A3 centre (47, 34.6845) radius 2
  point P0 (0, 0)
  point P1 (-60, -47.5)
  point P2 (55, -42.5)
  dimension "d204" = 4
extrude "Extrusão19" cut sketch "Esboço22" against normal blind 5
properties part number "sUPORTE"
